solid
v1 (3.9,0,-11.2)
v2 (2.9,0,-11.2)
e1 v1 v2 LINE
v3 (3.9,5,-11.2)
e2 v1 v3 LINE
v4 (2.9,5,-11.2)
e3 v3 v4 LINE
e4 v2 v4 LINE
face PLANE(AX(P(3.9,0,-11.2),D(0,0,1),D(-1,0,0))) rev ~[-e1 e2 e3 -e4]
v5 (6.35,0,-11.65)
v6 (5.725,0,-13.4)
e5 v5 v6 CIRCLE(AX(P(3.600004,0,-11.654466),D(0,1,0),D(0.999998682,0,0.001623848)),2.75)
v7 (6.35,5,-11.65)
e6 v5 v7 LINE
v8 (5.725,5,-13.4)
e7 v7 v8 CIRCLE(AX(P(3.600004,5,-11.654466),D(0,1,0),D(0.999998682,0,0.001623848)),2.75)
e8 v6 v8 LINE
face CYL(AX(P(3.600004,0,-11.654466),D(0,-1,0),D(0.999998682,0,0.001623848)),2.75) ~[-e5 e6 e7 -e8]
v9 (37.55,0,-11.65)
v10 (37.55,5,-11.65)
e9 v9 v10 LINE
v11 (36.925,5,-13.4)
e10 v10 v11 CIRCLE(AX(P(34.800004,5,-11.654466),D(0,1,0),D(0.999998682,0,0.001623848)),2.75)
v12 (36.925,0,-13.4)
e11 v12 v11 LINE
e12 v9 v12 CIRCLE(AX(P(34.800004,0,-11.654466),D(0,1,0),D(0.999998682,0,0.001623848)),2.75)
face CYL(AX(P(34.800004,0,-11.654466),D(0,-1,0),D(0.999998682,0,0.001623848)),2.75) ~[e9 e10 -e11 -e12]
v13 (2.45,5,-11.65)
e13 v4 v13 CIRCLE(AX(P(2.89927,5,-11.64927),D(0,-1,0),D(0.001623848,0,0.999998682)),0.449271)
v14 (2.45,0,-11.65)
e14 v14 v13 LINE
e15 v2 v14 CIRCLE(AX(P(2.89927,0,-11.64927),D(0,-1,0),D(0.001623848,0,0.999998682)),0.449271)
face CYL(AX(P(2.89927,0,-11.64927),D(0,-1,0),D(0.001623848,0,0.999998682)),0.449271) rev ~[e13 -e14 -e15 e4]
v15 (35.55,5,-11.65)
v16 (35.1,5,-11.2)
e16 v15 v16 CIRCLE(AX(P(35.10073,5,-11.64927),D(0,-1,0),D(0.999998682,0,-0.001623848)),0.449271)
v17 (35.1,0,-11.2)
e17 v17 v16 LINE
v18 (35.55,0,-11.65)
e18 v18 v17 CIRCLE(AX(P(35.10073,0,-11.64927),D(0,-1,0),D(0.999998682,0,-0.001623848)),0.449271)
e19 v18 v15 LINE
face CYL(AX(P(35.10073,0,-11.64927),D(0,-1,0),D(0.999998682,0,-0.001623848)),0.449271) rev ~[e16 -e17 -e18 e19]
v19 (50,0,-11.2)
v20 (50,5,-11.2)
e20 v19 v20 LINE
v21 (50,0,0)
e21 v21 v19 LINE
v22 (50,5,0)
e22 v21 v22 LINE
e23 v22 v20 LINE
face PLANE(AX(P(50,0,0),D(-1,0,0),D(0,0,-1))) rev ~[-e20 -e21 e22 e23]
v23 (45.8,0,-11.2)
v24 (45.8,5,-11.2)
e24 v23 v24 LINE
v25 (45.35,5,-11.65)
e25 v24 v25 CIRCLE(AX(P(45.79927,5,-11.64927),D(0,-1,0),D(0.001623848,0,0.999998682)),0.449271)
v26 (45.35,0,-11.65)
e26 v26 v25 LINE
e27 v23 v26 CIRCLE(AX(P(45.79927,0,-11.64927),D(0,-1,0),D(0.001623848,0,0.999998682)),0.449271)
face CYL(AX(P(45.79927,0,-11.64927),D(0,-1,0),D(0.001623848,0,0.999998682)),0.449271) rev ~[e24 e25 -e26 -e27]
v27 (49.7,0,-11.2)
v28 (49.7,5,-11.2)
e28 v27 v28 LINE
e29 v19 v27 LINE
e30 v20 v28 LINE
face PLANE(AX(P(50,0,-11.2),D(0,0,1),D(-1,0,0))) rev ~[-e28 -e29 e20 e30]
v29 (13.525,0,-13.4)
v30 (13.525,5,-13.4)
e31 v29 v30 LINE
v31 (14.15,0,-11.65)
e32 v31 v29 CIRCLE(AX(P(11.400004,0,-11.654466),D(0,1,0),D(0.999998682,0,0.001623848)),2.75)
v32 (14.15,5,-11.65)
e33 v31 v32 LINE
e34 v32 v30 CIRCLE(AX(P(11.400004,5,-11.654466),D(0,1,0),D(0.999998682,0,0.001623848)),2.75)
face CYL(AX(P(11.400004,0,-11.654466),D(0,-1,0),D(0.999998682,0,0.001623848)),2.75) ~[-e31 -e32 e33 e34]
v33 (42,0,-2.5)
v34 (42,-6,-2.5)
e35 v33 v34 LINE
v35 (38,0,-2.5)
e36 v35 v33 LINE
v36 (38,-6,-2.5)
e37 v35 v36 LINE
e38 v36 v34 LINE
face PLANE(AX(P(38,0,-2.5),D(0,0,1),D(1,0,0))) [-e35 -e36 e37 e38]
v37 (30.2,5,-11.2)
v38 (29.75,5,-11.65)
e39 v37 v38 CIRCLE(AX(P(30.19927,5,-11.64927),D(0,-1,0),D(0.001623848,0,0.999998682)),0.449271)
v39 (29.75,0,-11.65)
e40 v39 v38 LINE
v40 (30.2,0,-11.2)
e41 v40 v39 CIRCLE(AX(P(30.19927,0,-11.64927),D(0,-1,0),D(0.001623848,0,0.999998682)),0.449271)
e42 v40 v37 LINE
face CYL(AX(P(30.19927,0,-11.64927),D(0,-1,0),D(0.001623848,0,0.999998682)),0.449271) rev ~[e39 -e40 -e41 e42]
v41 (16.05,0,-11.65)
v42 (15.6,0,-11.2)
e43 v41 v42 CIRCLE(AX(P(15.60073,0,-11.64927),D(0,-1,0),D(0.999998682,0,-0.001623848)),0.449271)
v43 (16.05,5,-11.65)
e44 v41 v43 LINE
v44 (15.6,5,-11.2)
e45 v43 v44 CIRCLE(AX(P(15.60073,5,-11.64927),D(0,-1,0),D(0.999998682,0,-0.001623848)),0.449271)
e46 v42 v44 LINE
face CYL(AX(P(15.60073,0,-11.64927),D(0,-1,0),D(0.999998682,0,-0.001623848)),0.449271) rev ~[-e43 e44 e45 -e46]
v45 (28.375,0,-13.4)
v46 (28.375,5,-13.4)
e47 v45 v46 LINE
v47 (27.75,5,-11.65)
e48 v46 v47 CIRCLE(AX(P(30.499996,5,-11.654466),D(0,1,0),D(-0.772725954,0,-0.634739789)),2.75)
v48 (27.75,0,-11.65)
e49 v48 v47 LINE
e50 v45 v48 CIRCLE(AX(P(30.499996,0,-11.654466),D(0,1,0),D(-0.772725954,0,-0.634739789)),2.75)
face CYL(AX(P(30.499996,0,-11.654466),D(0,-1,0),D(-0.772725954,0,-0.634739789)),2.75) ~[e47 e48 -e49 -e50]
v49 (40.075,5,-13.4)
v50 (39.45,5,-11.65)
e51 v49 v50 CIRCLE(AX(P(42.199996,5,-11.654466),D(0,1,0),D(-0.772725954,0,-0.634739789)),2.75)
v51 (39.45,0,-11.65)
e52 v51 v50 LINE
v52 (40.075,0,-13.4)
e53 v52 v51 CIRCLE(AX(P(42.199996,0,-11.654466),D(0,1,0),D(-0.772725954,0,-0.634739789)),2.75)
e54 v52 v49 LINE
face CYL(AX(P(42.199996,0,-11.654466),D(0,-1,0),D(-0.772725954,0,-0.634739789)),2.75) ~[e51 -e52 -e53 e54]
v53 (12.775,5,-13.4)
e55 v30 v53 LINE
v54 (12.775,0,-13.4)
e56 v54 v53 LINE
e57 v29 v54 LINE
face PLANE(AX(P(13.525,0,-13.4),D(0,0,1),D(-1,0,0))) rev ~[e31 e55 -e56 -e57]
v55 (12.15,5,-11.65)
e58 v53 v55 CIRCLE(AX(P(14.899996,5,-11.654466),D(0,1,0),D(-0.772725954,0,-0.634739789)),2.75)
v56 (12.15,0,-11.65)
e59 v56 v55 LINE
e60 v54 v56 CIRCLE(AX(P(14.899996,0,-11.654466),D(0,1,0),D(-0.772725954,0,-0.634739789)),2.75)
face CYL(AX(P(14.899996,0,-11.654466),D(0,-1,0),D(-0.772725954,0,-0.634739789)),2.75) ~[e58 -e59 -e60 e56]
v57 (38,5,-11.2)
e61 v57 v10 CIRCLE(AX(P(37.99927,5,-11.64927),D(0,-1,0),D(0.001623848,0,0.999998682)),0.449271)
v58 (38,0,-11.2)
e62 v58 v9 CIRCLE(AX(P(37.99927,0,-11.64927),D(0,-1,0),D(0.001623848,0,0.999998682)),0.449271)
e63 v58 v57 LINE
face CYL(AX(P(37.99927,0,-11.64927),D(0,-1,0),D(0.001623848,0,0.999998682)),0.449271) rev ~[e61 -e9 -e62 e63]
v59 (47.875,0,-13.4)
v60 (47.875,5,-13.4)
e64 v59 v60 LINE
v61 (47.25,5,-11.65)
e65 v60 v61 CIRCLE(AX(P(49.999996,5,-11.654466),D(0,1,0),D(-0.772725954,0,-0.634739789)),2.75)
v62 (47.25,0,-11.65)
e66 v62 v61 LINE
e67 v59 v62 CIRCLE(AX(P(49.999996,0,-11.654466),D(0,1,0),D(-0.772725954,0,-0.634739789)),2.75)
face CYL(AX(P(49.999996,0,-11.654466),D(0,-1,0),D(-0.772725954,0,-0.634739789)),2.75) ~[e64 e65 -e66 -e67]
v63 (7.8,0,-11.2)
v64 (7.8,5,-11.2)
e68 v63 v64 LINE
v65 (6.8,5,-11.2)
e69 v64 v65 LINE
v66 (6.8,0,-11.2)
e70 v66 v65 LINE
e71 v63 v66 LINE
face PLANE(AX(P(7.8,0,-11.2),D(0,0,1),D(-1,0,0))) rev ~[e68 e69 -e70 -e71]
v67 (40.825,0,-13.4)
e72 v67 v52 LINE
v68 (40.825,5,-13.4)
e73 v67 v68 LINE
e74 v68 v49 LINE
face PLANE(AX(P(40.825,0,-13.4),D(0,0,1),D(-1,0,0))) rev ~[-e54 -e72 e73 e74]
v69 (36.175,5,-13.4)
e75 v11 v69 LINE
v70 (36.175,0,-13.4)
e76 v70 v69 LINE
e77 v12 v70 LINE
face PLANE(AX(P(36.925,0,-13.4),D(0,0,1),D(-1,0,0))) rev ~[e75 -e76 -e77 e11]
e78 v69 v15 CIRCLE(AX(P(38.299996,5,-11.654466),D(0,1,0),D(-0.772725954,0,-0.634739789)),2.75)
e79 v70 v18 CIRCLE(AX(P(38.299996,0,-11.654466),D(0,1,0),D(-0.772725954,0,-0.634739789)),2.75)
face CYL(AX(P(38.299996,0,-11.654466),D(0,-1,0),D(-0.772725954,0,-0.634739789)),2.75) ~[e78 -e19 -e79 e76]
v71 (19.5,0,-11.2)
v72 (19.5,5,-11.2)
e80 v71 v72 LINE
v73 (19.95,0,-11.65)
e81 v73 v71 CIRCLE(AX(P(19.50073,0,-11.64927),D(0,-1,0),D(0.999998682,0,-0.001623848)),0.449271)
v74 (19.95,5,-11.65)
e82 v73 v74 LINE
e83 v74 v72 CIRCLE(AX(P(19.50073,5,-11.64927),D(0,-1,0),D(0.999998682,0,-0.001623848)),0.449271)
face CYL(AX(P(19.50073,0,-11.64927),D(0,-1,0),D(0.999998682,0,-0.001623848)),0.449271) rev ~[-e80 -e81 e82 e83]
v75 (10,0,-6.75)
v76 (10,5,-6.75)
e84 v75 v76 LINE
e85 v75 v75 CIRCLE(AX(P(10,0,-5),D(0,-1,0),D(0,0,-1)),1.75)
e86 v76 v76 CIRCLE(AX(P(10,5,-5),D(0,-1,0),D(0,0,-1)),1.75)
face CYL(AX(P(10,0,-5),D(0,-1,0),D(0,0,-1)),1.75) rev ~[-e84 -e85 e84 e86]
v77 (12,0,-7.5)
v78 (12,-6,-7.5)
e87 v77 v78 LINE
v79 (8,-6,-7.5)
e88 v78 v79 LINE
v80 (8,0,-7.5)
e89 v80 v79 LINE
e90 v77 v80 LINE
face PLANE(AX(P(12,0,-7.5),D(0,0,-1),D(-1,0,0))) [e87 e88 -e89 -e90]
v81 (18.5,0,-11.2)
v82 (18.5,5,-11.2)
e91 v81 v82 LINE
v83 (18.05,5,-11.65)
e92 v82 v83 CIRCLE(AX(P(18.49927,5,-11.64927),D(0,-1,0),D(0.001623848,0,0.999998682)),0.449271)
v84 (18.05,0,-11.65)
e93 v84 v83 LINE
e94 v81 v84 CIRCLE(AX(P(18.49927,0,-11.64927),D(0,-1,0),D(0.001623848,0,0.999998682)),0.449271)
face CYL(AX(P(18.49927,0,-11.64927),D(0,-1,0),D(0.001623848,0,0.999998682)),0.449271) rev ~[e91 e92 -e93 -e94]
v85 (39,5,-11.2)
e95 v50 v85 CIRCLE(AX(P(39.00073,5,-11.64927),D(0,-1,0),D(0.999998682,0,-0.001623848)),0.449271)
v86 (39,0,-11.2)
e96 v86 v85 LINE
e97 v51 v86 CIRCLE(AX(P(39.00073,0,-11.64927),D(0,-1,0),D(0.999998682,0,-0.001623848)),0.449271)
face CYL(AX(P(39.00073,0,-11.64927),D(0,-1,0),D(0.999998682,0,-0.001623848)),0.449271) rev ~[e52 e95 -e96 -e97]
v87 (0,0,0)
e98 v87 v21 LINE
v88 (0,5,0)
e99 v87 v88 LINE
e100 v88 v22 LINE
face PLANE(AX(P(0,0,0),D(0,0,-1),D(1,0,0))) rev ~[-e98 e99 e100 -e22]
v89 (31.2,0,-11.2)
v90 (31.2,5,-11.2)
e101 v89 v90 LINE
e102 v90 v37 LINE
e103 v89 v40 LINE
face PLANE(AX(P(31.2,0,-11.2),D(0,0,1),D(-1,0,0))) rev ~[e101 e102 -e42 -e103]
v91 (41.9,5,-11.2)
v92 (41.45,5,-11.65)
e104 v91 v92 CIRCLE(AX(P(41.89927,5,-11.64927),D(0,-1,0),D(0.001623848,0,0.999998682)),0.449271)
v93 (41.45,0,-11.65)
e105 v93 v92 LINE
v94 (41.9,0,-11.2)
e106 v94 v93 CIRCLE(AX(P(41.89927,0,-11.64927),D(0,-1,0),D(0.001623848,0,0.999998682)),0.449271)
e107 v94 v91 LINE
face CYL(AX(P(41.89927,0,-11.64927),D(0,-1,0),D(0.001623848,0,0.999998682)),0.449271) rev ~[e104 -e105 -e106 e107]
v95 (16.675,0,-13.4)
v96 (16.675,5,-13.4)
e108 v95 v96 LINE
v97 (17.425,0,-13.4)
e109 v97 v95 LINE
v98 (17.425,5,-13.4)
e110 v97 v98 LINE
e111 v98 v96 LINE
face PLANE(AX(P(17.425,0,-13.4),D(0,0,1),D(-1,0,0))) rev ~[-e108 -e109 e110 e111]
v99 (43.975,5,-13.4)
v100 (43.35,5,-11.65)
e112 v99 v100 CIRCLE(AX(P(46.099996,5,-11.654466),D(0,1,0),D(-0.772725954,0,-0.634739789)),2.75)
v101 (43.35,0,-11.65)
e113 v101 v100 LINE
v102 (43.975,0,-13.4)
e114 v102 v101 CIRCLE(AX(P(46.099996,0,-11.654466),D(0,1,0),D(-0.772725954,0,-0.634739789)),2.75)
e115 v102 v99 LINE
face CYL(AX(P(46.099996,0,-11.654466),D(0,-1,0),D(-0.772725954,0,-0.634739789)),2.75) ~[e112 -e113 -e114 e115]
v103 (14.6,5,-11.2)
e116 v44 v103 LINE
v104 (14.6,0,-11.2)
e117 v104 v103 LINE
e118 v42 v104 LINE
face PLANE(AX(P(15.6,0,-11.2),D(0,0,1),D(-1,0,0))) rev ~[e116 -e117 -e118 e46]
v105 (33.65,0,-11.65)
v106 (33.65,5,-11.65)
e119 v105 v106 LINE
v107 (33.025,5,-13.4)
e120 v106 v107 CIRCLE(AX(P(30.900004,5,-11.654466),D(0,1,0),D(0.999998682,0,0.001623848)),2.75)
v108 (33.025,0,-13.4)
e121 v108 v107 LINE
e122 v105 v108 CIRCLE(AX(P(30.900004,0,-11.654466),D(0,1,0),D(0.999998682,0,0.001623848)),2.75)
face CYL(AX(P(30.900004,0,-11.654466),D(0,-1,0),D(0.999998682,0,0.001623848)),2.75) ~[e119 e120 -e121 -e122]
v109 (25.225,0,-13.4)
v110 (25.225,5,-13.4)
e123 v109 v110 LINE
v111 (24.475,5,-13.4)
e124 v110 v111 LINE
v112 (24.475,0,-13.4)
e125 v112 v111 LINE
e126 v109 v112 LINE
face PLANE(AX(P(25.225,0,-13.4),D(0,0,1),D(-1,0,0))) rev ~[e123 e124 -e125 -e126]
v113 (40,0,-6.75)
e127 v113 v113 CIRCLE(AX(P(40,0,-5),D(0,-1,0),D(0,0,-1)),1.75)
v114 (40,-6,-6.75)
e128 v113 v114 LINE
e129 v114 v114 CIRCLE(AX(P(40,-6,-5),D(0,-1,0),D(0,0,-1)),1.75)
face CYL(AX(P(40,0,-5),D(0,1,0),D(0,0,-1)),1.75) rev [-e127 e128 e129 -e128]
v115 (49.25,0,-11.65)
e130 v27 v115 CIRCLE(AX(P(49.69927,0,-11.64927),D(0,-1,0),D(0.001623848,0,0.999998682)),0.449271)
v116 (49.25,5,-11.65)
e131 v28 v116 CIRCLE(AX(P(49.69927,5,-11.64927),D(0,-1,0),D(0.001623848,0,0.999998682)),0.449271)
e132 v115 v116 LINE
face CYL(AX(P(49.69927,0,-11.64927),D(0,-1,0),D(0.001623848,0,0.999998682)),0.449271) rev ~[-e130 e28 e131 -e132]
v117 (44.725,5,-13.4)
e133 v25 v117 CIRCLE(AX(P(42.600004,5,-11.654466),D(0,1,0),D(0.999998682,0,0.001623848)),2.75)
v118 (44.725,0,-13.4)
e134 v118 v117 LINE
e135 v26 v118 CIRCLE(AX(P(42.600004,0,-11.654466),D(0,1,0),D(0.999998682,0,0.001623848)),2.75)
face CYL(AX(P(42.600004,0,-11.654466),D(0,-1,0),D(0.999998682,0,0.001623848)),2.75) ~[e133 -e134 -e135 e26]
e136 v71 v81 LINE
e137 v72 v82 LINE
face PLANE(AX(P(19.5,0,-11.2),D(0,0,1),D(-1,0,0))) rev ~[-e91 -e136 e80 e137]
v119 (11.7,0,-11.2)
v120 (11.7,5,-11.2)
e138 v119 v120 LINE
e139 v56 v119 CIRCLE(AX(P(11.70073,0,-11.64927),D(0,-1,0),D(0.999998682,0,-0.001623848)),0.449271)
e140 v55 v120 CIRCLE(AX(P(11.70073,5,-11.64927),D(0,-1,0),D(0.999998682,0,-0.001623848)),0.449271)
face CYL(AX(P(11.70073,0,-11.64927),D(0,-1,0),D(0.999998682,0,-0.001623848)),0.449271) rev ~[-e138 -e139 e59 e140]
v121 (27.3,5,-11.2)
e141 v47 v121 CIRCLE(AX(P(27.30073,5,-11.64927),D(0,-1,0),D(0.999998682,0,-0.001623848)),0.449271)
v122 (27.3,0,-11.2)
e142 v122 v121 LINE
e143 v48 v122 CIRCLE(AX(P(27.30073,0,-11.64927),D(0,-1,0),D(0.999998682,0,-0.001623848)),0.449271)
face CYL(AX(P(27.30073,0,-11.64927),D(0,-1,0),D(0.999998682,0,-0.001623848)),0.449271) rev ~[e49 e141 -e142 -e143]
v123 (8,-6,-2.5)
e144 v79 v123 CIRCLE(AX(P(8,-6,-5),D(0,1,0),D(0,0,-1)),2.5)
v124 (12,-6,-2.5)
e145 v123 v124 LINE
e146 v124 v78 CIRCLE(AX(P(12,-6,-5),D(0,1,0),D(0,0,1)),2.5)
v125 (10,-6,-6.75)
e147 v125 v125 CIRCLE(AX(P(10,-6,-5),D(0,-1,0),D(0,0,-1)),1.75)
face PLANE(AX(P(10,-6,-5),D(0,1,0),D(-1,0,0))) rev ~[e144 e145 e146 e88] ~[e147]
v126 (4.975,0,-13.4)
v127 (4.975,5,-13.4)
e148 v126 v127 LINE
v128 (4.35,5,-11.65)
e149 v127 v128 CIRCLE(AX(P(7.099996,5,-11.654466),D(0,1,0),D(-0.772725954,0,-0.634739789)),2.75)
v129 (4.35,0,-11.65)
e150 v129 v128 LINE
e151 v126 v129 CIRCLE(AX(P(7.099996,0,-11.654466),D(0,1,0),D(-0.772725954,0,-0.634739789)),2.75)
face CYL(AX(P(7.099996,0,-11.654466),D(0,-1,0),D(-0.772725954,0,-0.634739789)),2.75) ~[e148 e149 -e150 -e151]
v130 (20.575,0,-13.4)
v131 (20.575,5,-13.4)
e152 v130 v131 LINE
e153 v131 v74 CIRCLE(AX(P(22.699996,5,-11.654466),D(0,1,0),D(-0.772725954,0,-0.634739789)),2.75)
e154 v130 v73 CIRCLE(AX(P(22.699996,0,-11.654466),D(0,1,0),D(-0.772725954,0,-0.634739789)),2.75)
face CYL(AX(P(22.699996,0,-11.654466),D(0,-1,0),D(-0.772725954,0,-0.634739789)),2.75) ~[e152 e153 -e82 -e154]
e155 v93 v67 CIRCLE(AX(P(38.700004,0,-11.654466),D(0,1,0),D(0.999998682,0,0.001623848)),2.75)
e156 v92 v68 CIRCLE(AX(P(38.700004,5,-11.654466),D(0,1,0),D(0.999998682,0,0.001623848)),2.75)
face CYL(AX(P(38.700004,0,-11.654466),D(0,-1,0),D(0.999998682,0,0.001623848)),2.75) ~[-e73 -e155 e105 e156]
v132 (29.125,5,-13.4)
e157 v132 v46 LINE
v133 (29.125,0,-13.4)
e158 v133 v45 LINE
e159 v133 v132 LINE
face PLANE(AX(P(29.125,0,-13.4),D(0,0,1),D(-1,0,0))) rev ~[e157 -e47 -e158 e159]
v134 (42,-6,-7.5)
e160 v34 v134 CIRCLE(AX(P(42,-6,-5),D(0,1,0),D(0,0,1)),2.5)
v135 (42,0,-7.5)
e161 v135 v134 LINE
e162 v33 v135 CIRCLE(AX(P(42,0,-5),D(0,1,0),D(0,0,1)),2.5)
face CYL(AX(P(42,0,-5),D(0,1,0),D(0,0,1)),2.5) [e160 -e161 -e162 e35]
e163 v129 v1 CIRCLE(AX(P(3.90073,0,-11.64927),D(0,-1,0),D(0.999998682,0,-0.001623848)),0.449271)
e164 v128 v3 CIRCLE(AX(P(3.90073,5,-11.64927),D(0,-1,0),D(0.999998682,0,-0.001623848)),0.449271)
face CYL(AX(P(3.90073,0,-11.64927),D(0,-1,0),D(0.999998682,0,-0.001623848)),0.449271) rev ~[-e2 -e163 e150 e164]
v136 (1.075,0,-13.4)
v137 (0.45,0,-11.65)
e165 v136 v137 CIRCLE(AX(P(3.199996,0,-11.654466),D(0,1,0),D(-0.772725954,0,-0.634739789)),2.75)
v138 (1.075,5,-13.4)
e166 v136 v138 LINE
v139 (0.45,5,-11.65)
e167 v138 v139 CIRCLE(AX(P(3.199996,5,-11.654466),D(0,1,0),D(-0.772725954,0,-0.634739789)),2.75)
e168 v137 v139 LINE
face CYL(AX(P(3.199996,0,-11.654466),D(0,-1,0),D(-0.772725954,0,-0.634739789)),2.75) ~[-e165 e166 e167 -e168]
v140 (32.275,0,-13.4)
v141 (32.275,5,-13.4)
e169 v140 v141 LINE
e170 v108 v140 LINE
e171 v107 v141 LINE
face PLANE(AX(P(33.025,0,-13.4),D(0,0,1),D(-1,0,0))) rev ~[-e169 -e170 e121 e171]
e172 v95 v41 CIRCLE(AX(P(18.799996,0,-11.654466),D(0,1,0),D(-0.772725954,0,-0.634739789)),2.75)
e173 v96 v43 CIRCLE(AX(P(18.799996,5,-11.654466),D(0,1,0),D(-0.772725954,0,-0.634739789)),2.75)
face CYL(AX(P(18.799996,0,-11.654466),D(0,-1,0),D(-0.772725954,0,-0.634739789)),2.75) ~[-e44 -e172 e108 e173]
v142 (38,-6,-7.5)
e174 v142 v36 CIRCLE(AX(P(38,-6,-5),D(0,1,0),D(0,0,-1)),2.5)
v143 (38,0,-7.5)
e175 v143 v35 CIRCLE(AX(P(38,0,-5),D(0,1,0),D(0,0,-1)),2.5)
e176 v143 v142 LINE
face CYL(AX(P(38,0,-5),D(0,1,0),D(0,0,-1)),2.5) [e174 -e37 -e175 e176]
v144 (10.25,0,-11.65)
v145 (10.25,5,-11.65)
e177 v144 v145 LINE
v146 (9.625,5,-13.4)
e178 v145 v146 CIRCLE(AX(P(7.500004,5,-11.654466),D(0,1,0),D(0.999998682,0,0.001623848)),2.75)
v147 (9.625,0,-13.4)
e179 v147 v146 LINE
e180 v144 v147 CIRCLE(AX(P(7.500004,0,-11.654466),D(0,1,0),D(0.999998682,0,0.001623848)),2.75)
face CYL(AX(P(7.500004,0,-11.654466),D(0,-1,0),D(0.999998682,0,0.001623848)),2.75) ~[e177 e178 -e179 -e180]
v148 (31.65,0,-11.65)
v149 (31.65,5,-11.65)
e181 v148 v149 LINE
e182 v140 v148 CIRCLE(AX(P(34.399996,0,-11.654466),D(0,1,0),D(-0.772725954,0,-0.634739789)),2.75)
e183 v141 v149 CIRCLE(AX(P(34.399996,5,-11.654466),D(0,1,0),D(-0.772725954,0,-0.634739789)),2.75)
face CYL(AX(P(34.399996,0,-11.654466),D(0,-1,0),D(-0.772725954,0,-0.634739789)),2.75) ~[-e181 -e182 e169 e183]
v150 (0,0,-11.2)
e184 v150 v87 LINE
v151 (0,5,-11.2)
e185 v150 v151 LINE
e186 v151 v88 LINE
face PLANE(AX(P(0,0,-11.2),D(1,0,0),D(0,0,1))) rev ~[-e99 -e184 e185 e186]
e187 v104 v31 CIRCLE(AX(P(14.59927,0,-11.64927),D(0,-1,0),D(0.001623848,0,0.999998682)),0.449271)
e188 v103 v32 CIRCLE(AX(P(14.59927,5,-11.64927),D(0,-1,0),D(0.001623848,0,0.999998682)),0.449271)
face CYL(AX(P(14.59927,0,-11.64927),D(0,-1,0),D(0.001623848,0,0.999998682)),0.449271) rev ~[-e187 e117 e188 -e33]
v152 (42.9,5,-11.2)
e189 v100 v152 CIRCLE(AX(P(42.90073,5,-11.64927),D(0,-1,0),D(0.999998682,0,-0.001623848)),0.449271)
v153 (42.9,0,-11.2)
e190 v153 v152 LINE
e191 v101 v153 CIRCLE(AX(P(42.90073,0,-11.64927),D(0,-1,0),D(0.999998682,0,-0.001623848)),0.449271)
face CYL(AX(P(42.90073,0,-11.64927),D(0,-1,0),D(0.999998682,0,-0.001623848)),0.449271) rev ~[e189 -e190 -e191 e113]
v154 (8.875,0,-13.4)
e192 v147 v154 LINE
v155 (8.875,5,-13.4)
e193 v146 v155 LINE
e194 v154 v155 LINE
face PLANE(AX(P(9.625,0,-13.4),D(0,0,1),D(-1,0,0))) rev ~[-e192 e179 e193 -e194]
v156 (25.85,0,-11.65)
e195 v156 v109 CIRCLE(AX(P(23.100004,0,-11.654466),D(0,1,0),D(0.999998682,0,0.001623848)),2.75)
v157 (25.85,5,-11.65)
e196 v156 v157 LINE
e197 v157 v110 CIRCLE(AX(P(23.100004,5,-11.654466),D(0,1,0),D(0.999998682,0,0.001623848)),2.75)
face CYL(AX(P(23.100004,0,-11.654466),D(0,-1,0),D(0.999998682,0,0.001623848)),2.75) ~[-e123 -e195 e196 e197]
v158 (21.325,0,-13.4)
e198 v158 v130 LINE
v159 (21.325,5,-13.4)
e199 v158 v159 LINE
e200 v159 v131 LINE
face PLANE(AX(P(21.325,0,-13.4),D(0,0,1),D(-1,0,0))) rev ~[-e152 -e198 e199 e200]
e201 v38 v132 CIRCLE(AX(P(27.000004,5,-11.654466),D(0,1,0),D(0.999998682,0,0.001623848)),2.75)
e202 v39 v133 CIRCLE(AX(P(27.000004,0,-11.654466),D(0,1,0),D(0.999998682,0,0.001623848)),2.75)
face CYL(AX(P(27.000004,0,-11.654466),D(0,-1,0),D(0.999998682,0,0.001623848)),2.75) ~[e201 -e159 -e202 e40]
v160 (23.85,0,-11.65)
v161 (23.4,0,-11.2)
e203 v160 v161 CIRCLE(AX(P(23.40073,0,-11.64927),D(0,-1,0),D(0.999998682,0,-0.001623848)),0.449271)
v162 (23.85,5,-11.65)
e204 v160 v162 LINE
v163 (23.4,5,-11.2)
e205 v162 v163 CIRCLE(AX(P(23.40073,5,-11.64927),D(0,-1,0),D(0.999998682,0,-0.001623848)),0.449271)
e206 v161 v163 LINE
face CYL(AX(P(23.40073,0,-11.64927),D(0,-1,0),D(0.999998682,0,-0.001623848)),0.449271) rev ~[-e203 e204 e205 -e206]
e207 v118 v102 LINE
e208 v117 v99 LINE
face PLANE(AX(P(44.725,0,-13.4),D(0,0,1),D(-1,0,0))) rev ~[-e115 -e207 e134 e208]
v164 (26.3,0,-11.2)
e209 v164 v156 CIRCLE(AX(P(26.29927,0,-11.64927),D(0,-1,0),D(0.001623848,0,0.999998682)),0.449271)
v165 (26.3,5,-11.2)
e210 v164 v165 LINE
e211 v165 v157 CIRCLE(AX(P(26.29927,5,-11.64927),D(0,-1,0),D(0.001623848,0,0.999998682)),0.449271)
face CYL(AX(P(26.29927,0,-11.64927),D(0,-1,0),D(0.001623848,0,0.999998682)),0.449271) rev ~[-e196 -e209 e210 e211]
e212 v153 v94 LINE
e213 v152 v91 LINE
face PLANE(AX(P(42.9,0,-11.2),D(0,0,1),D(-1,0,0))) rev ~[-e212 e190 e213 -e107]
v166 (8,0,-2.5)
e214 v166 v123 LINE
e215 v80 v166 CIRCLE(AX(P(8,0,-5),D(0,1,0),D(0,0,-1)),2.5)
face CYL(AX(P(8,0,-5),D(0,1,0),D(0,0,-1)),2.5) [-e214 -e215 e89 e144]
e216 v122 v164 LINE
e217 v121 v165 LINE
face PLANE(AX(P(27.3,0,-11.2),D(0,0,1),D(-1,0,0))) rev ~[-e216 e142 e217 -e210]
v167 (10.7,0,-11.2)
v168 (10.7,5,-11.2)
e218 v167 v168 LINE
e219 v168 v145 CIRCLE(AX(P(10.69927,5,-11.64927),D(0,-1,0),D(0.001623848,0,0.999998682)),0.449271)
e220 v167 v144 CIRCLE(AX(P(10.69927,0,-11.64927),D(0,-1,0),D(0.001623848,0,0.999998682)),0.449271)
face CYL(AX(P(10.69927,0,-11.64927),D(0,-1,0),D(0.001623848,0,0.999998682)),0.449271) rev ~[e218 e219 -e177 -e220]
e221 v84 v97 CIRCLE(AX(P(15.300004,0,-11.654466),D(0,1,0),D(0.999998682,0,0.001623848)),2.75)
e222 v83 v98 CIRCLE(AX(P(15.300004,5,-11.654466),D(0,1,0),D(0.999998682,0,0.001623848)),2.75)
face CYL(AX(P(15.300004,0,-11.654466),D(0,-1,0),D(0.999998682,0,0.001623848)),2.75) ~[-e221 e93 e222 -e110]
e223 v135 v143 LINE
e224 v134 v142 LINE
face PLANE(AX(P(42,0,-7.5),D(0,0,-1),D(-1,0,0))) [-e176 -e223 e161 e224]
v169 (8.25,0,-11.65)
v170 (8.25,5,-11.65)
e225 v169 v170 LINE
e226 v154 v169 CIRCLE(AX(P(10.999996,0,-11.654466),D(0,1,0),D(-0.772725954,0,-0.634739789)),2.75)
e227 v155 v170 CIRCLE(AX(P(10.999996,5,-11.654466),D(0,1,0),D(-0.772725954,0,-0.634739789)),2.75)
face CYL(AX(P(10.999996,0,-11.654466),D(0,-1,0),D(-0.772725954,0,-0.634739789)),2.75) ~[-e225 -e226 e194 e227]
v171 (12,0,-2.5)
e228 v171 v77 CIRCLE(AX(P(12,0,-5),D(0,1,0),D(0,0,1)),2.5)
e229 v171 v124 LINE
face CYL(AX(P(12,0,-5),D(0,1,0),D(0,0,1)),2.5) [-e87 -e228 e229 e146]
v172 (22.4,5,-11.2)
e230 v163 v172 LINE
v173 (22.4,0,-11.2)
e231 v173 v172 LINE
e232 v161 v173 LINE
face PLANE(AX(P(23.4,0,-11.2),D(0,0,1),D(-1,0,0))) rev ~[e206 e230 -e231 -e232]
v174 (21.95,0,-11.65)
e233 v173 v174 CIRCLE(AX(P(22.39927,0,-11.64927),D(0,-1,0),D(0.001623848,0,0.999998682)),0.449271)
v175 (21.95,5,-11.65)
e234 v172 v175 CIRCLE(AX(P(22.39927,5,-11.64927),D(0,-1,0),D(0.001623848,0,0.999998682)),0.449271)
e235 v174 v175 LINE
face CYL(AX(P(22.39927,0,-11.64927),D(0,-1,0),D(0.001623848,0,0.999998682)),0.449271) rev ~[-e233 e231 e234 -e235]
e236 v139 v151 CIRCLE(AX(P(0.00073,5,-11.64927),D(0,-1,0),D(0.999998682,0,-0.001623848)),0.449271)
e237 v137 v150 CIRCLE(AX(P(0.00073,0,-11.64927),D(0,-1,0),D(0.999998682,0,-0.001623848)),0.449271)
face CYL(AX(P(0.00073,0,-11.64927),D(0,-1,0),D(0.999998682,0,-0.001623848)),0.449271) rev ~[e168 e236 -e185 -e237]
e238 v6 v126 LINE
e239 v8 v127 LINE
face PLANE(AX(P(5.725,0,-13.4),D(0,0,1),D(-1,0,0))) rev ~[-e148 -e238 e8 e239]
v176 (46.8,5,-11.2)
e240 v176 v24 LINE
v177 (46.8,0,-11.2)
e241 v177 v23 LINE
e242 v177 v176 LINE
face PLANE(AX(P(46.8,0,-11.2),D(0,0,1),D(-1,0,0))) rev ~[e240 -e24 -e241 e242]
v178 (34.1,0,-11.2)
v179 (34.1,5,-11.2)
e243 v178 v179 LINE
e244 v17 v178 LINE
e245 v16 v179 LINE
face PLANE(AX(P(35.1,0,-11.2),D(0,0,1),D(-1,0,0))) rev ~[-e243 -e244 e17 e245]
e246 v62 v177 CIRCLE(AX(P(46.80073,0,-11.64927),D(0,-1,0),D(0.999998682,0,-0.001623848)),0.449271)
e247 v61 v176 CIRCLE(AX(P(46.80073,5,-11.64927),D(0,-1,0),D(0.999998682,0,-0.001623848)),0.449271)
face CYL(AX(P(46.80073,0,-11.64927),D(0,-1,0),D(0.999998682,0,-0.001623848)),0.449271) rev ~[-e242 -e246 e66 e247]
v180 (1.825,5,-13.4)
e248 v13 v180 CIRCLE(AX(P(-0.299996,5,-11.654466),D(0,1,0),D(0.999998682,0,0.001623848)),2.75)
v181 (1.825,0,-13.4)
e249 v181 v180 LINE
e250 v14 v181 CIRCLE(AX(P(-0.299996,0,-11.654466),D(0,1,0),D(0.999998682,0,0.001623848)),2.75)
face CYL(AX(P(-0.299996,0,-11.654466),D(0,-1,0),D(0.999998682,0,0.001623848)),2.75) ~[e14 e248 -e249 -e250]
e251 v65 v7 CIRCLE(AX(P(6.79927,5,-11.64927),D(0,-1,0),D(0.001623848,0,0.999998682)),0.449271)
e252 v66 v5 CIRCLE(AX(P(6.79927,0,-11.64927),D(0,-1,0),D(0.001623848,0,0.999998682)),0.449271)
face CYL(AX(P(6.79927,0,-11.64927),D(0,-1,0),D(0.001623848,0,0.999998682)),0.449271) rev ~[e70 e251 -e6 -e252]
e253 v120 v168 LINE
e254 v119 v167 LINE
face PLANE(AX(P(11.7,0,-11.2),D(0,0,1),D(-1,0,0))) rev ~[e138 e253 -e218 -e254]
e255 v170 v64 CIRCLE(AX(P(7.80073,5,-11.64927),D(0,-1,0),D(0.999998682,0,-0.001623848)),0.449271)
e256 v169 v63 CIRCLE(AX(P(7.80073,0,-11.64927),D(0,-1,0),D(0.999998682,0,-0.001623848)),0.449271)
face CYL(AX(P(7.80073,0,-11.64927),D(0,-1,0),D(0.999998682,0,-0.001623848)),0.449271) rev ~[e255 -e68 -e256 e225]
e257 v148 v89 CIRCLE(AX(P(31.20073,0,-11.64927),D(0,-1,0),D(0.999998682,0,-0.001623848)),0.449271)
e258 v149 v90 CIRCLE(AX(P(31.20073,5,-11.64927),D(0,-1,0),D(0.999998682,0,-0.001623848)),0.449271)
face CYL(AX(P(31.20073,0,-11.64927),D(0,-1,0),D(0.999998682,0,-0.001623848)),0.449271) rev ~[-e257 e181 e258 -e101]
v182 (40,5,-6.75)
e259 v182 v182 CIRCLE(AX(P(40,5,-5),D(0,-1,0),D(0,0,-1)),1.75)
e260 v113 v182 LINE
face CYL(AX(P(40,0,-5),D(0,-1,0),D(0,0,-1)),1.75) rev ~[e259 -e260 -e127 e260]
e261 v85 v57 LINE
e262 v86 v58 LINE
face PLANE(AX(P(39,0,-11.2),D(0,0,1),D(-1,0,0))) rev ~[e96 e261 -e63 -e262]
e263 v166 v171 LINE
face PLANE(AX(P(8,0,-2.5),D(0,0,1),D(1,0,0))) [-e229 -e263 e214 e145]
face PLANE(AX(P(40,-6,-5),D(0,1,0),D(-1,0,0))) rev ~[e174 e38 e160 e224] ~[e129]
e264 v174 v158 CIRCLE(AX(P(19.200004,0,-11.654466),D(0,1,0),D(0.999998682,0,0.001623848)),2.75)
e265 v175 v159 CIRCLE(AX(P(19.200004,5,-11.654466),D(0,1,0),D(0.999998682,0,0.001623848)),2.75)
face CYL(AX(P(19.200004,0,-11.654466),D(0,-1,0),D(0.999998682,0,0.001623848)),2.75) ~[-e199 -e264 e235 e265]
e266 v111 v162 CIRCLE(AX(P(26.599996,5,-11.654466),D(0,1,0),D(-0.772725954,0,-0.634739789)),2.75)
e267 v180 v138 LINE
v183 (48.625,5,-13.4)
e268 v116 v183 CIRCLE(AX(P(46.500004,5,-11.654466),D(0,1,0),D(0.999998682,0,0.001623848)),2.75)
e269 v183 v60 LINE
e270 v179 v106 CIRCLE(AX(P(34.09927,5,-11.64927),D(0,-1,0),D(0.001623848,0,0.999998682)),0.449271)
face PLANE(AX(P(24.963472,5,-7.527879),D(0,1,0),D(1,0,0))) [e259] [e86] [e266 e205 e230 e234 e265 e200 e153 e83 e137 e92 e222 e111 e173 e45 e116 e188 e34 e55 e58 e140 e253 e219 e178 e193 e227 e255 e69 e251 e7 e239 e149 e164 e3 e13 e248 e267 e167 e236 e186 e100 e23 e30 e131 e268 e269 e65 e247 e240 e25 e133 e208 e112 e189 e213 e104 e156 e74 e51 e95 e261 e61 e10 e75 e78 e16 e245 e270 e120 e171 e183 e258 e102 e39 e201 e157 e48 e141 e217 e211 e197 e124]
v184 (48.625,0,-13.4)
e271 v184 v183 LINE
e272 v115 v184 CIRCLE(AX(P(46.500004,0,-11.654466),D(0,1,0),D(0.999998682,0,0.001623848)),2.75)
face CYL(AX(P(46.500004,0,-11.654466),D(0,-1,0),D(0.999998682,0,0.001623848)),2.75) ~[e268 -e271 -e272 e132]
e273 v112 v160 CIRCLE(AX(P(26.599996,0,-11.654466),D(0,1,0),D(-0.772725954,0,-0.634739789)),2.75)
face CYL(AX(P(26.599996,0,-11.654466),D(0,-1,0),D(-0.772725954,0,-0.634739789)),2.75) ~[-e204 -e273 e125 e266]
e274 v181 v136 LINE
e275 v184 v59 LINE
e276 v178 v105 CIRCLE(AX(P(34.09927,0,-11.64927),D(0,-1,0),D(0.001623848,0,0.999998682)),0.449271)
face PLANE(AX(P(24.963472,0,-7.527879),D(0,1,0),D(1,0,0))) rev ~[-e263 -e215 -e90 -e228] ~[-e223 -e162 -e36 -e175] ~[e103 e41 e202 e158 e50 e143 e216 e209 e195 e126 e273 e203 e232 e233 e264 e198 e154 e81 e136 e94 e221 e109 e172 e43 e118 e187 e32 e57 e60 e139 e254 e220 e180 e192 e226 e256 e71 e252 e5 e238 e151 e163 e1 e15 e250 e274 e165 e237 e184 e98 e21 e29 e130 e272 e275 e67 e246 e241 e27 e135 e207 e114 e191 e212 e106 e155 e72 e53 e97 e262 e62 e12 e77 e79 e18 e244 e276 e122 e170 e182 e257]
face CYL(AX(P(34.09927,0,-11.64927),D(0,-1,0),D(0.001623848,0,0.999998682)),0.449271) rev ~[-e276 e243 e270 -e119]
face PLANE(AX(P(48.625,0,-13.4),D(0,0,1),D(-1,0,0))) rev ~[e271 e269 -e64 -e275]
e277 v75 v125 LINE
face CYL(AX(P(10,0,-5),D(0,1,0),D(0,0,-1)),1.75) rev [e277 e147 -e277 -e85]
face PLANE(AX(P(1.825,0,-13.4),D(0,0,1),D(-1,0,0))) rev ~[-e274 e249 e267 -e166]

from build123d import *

# Parameters (mm, degrees)
BOSS_EXTRUDE1_DEPTH = 5
SKETCH2_R           = 1.75
BOSS_EXTRUDE2_DEPTH = 6
CUT_EXTRUDE1_REACH  = 54.111
SKETCH3_R           = 1.75


with BuildPart() as part:
    # Sketch1 → Boss-Extrude1 (new body)
    with BuildSketch(Plane(origin=(0, 0, 0), x_dir=(1, 0, 0), z_dir=(0, 1, 0))):
        with BuildLine():
            Line((0, 0), (50, 0))
            Line((50, 0), (50, 11.2))
            Line((50, 11.2), (49.7, 11.2))
            ThreePointArc((49.7, 11.2), (49.38158785, 11.33158785), (49.25, 11.65))
            ThreePointArc((49.25, 11.65), (49.089793883, 12.579390672), (48.625, 13.4))
            Line((48.625, 13.4), (47.875, 13.4))
            ThreePointArc((47.875, 13.4), (47.410206117, 12.579390672), (47.25, 11.65))
            ThreePointArc((47.25, 11.65), (47.11841215, 11.33158785), (46.8, 11.2))
            Line((46.8, 11.2), (45.8, 11.2))
            ThreePointArc((45.8, 11.2), (45.48158785, 11.33158785), (45.35, 11.65))
            ThreePointArc((45.35, 11.65), (45.189793883, 12.579390672), (44.725, 13.4))
            Line((44.725, 13.4), (43.975, 13.4))
            ThreePointArc((43.975, 13.4), (43.510206117, 12.579390672), (43.35, 11.65))
            ThreePointArc((43.35, 11.65), (43.21841215, 11.33158785), (42.9, 11.2))
            Line((42.9, 11.2), (41.9, 11.2))
            ThreePointArc((41.9, 11.2), (41.58158785, 11.33158785), (41.45, 11.65))
            ThreePointArc((41.45, 11.65), (41.289793883, 12.579390672), (40.825, 13.4))
            Line((40.825, 13.4), (40.075, 13.4))
            ThreePointArc((40.075, 13.4), (39.610206117, 12.579390672), (39.45, 11.65))
            ThreePointArc((39.45, 11.65), (39.31841215, 11.33158785), (39, 11.2))
            Line((39, 11.2), (38, 11.2))
            ThreePointArc((38, 11.2), (37.68158785, 11.33158785), (37.55, 11.65))
            ThreePointArc((37.55, 11.65), (37.389793883, 12.579390672), (36.925, 13.4))
            Line((36.925, 13.4), (36.175, 13.4))
            ThreePointArc((36.175, 13.4), (35.710206117, 12.579390672), (35.55, 11.65))
            ThreePointArc((35.55, 11.65), (35.41841215, 11.33158785), (35.1, 11.2))
            Line((35.1, 11.2), (34.1, 11.2))
            ThreePointArc((34.1, 11.2), (33.78158785, 11.33158785), (33.65, 11.65))
            ThreePointArc((33.65, 11.65), (33.489793883, 12.579390672), (33.025, 13.4))
            Line((33.025, 13.4), (32.275, 13.4))
            ThreePointArc((32.275, 13.4), (31.810206117, 12.579390672), (31.65, 11.65))
            ThreePointArc((31.65, 11.65), (31.51841215, 11.33158785), (31.2, 11.2))
            Line((31.2, 11.2), (30.2, 11.2))
            ThreePointArc((30.2, 11.2), (29.88158785, 11.33158785), (29.75, 11.65))
            ThreePointArc((29.75, 11.65), (29.589793883, 12.579390672), (29.125, 13.4))
            Line((29.125, 13.4), (28.375, 13.4))
            ThreePointArc((28.375, 13.4), (27.910206117, 12.579390672), (27.75, 11.65))
            ThreePointArc((27.75, 11.65), (27.61841215, 11.33158785), (27.3, 11.2))
            Line((27.3, 11.2), (26.3, 11.2))
            ThreePointArc((26.3, 11.2), (25.98158785, 11.33158785), (25.85, 11.65))
            ThreePointArc((25.85, 11.65), (25.689793883, 12.579390672), (25.225, 13.4))
            Line((25.225, 13.4), (24.475, 13.4))
            ThreePointArc((24.475, 13.4), (24.010206117, 12.579390672), (23.85, 11.65))
            ThreePointArc((23.85, 11.65), (23.71841215, 11.33158785), (23.4, 11.2))
            Line((23.4, 11.2), (22.4, 11.2))
            ThreePointArc((22.4, 11.2), (22.08158785, 11.33158785), (21.95, 11.65))
            ThreePointArc((21.95, 11.65), (21.789793883, 12.579390672), (21.325, 13.4))
            Line((21.325, 13.4), (20.575, 13.4))
            ThreePointArc((20.575, 13.4), (20.110206117, 12.579390672), (19.95, 11.65))
            ThreePointArc((19.95, 11.65), (19.81841215, 11.33158785), (19.5, 11.2))
            Line((19.5, 11.2), (18.5, 11.2))
            ThreePointArc((18.5, 11.2), (18.18158785, 11.33158785), (18.05, 11.65))
            ThreePointArc((18.05, 11.65), (17.889793883, 12.579390672), (17.425, 13.4))
            Line((17.425, 13.4), (16.675, 13.4))
            ThreePointArc((16.675, 13.4), (16.210206117, 12.579390672), (16.05, 11.65))
            ThreePointArc((16.05, 11.65), (15.91841215, 11.33158785), (15.6, 11.2))
            Line((15.6, 11.2), (14.6, 11.2))
            ThreePointArc((14.6, 11.2), (14.28158785, 11.33158785), (14.15, 11.65))
            ThreePointArc((14.15, 11.65), (13.989793883, 12.579390672), (13.525, 13.4))
            Line((13.525, 13.4), (12.775, 13.4))
            ThreePointArc((12.775, 13.4), (12.310206117, 12.579390672), (12.15, 11.65))
            ThreePointArc((12.15, 11.65), (12.01841215, 11.33158785), (11.7, 11.2))
            Line((11.7, 11.2), (10.7, 11.2))
            ThreePointArc((10.7, 11.2), (10.38158785, 11.33158785), (10.25, 11.65))
            ThreePointArc((10.25, 11.65), (10.089793883, 12.579390672), (9.625, 13.4))
            Line((9.625, 13.4), (8.875, 13.4))
            ThreePointArc((8.875, 13.4), (8.410206117, 12.579390672), (8.25, 11.65))
            ThreePointArc((8.25, 11.65), (8.11841215, 11.33158785), (7.8, 11.2))
            Line((7.8, 11.2), (6.8, 11.2))
            ThreePointArc((6.8, 11.2), (6.48158785, 11.33158785), (6.35, 11.65))
            ThreePointArc((6.35, 11.65), (6.189793883, 12.579390672), (5.725, 13.4))
            Line((5.725, 13.4), (4.975, 13.4))
            ThreePointArc((4.975, 13.4), (4.510206117, 12.579390672), (4.35, 11.65))
            ThreePointArc((4.35, 11.65), (4.21841215, 11.33158785), (3.9, 11.2))
            Line((3.9, 11.2), (2.9, 11.2))
            ThreePointArc((2.9, 11.2), (2.58158785, 11.33158785), (2.45, 11.65))
            ThreePointArc((2.45, 11.65), (2.289793883, 12.579390672), (1.825, 13.4))
            Line((1.825, 13.4), (1.075, 13.4))
            ThreePointArc((1.075, 13.4), (0.610206117, 12.579390672), (0.45, 11.65))
            ThreePointArc((0.45, 11.65), (0.31841215, 11.33158785), (0, 11.2))
            Line((0, 11.2), (0, 0))
        make_face()
    extrude(amount=BOSS_EXTRUDE1_DEPTH)

    # Sketch2 → Boss-Extrude2 (add)
    # profile 1 of 2: a face of its own
    with BuildSketch(Plane.XZ):
        with BuildLine():
            Line((12, -7.5), (8, -7.5))
            ThreePointArc((8, -7.5), (5.5, -5), (8, -2.5))
            Line((8, -2.5), (12, -2.5))
            ThreePointArc((12, -2.5), (14.5, -5), (12, -7.5))
        make_face()
        with Locations(Location((10, -5, 0), (0, 0, 270))):
            Circle(SKETCH2_R, mode=Mode.SUBTRACT)
    # profile 2 of 2: a face of its own
    with BuildSketch(Plane.XZ):
        with BuildLine():
            Line((42, -7.5), (38, -7.5))
            ThreePointArc((38, -7.5), (35.5, -5), (38, -2.5))
            Line((38, -2.5), (42, -2.5))
            ThreePointArc((42, -2.5), (44.5, -5), (42, -7.5))
        make_face()
        with Locations(Location((40, -5, 0), (0, 0, 270))):
            Circle(SKETCH2_R, mode=Mode.SUBTRACT)
    extrude(amount=BOSS_EXTRUDE2_DEPTH)

    # Sketch3 → Cut-Extrude1 (cut, up to next)
    with BuildSketch(Plane.XZ, mode=Mode.PRIVATE) as cut_extrude1_sk1:
        with Locations(Location((40, -5, 0), (0, 0, 270))):
            Circle(SKETCH3_R)
    cut_extrude1_tool1 = extrude(cut_extrude1_sk1.sketch, amount=-CUT_EXTRUDE1_REACH, mode=Mode.PRIVATE) & part.part
    # Sketch3 → Cut-Extrude1 (cut, up to next)
    with BuildSketch(Plane.XZ, mode=Mode.PRIVATE) as cut_extrude1_sk2:
        with Locations(Location((10, -5, 0), (0, 0, 270))):
            Circle(SKETCH3_R)
    cut_extrude1_tool2 = extrude(cut_extrude1_sk2.sketch, amount=-CUT_EXTRUDE1_REACH, mode=Mode.PRIVATE) & part.part
    add(cut_extrude1_tool1.solids().sort_by_distance((40, 0, -5))[0], mode=Mode.SUBTRACT)
    add(cut_extrude1_tool2.solids().sort_by_distance((10, 0, -5))[0], mode=Mode.SUBTRACT)


solid = part.part
